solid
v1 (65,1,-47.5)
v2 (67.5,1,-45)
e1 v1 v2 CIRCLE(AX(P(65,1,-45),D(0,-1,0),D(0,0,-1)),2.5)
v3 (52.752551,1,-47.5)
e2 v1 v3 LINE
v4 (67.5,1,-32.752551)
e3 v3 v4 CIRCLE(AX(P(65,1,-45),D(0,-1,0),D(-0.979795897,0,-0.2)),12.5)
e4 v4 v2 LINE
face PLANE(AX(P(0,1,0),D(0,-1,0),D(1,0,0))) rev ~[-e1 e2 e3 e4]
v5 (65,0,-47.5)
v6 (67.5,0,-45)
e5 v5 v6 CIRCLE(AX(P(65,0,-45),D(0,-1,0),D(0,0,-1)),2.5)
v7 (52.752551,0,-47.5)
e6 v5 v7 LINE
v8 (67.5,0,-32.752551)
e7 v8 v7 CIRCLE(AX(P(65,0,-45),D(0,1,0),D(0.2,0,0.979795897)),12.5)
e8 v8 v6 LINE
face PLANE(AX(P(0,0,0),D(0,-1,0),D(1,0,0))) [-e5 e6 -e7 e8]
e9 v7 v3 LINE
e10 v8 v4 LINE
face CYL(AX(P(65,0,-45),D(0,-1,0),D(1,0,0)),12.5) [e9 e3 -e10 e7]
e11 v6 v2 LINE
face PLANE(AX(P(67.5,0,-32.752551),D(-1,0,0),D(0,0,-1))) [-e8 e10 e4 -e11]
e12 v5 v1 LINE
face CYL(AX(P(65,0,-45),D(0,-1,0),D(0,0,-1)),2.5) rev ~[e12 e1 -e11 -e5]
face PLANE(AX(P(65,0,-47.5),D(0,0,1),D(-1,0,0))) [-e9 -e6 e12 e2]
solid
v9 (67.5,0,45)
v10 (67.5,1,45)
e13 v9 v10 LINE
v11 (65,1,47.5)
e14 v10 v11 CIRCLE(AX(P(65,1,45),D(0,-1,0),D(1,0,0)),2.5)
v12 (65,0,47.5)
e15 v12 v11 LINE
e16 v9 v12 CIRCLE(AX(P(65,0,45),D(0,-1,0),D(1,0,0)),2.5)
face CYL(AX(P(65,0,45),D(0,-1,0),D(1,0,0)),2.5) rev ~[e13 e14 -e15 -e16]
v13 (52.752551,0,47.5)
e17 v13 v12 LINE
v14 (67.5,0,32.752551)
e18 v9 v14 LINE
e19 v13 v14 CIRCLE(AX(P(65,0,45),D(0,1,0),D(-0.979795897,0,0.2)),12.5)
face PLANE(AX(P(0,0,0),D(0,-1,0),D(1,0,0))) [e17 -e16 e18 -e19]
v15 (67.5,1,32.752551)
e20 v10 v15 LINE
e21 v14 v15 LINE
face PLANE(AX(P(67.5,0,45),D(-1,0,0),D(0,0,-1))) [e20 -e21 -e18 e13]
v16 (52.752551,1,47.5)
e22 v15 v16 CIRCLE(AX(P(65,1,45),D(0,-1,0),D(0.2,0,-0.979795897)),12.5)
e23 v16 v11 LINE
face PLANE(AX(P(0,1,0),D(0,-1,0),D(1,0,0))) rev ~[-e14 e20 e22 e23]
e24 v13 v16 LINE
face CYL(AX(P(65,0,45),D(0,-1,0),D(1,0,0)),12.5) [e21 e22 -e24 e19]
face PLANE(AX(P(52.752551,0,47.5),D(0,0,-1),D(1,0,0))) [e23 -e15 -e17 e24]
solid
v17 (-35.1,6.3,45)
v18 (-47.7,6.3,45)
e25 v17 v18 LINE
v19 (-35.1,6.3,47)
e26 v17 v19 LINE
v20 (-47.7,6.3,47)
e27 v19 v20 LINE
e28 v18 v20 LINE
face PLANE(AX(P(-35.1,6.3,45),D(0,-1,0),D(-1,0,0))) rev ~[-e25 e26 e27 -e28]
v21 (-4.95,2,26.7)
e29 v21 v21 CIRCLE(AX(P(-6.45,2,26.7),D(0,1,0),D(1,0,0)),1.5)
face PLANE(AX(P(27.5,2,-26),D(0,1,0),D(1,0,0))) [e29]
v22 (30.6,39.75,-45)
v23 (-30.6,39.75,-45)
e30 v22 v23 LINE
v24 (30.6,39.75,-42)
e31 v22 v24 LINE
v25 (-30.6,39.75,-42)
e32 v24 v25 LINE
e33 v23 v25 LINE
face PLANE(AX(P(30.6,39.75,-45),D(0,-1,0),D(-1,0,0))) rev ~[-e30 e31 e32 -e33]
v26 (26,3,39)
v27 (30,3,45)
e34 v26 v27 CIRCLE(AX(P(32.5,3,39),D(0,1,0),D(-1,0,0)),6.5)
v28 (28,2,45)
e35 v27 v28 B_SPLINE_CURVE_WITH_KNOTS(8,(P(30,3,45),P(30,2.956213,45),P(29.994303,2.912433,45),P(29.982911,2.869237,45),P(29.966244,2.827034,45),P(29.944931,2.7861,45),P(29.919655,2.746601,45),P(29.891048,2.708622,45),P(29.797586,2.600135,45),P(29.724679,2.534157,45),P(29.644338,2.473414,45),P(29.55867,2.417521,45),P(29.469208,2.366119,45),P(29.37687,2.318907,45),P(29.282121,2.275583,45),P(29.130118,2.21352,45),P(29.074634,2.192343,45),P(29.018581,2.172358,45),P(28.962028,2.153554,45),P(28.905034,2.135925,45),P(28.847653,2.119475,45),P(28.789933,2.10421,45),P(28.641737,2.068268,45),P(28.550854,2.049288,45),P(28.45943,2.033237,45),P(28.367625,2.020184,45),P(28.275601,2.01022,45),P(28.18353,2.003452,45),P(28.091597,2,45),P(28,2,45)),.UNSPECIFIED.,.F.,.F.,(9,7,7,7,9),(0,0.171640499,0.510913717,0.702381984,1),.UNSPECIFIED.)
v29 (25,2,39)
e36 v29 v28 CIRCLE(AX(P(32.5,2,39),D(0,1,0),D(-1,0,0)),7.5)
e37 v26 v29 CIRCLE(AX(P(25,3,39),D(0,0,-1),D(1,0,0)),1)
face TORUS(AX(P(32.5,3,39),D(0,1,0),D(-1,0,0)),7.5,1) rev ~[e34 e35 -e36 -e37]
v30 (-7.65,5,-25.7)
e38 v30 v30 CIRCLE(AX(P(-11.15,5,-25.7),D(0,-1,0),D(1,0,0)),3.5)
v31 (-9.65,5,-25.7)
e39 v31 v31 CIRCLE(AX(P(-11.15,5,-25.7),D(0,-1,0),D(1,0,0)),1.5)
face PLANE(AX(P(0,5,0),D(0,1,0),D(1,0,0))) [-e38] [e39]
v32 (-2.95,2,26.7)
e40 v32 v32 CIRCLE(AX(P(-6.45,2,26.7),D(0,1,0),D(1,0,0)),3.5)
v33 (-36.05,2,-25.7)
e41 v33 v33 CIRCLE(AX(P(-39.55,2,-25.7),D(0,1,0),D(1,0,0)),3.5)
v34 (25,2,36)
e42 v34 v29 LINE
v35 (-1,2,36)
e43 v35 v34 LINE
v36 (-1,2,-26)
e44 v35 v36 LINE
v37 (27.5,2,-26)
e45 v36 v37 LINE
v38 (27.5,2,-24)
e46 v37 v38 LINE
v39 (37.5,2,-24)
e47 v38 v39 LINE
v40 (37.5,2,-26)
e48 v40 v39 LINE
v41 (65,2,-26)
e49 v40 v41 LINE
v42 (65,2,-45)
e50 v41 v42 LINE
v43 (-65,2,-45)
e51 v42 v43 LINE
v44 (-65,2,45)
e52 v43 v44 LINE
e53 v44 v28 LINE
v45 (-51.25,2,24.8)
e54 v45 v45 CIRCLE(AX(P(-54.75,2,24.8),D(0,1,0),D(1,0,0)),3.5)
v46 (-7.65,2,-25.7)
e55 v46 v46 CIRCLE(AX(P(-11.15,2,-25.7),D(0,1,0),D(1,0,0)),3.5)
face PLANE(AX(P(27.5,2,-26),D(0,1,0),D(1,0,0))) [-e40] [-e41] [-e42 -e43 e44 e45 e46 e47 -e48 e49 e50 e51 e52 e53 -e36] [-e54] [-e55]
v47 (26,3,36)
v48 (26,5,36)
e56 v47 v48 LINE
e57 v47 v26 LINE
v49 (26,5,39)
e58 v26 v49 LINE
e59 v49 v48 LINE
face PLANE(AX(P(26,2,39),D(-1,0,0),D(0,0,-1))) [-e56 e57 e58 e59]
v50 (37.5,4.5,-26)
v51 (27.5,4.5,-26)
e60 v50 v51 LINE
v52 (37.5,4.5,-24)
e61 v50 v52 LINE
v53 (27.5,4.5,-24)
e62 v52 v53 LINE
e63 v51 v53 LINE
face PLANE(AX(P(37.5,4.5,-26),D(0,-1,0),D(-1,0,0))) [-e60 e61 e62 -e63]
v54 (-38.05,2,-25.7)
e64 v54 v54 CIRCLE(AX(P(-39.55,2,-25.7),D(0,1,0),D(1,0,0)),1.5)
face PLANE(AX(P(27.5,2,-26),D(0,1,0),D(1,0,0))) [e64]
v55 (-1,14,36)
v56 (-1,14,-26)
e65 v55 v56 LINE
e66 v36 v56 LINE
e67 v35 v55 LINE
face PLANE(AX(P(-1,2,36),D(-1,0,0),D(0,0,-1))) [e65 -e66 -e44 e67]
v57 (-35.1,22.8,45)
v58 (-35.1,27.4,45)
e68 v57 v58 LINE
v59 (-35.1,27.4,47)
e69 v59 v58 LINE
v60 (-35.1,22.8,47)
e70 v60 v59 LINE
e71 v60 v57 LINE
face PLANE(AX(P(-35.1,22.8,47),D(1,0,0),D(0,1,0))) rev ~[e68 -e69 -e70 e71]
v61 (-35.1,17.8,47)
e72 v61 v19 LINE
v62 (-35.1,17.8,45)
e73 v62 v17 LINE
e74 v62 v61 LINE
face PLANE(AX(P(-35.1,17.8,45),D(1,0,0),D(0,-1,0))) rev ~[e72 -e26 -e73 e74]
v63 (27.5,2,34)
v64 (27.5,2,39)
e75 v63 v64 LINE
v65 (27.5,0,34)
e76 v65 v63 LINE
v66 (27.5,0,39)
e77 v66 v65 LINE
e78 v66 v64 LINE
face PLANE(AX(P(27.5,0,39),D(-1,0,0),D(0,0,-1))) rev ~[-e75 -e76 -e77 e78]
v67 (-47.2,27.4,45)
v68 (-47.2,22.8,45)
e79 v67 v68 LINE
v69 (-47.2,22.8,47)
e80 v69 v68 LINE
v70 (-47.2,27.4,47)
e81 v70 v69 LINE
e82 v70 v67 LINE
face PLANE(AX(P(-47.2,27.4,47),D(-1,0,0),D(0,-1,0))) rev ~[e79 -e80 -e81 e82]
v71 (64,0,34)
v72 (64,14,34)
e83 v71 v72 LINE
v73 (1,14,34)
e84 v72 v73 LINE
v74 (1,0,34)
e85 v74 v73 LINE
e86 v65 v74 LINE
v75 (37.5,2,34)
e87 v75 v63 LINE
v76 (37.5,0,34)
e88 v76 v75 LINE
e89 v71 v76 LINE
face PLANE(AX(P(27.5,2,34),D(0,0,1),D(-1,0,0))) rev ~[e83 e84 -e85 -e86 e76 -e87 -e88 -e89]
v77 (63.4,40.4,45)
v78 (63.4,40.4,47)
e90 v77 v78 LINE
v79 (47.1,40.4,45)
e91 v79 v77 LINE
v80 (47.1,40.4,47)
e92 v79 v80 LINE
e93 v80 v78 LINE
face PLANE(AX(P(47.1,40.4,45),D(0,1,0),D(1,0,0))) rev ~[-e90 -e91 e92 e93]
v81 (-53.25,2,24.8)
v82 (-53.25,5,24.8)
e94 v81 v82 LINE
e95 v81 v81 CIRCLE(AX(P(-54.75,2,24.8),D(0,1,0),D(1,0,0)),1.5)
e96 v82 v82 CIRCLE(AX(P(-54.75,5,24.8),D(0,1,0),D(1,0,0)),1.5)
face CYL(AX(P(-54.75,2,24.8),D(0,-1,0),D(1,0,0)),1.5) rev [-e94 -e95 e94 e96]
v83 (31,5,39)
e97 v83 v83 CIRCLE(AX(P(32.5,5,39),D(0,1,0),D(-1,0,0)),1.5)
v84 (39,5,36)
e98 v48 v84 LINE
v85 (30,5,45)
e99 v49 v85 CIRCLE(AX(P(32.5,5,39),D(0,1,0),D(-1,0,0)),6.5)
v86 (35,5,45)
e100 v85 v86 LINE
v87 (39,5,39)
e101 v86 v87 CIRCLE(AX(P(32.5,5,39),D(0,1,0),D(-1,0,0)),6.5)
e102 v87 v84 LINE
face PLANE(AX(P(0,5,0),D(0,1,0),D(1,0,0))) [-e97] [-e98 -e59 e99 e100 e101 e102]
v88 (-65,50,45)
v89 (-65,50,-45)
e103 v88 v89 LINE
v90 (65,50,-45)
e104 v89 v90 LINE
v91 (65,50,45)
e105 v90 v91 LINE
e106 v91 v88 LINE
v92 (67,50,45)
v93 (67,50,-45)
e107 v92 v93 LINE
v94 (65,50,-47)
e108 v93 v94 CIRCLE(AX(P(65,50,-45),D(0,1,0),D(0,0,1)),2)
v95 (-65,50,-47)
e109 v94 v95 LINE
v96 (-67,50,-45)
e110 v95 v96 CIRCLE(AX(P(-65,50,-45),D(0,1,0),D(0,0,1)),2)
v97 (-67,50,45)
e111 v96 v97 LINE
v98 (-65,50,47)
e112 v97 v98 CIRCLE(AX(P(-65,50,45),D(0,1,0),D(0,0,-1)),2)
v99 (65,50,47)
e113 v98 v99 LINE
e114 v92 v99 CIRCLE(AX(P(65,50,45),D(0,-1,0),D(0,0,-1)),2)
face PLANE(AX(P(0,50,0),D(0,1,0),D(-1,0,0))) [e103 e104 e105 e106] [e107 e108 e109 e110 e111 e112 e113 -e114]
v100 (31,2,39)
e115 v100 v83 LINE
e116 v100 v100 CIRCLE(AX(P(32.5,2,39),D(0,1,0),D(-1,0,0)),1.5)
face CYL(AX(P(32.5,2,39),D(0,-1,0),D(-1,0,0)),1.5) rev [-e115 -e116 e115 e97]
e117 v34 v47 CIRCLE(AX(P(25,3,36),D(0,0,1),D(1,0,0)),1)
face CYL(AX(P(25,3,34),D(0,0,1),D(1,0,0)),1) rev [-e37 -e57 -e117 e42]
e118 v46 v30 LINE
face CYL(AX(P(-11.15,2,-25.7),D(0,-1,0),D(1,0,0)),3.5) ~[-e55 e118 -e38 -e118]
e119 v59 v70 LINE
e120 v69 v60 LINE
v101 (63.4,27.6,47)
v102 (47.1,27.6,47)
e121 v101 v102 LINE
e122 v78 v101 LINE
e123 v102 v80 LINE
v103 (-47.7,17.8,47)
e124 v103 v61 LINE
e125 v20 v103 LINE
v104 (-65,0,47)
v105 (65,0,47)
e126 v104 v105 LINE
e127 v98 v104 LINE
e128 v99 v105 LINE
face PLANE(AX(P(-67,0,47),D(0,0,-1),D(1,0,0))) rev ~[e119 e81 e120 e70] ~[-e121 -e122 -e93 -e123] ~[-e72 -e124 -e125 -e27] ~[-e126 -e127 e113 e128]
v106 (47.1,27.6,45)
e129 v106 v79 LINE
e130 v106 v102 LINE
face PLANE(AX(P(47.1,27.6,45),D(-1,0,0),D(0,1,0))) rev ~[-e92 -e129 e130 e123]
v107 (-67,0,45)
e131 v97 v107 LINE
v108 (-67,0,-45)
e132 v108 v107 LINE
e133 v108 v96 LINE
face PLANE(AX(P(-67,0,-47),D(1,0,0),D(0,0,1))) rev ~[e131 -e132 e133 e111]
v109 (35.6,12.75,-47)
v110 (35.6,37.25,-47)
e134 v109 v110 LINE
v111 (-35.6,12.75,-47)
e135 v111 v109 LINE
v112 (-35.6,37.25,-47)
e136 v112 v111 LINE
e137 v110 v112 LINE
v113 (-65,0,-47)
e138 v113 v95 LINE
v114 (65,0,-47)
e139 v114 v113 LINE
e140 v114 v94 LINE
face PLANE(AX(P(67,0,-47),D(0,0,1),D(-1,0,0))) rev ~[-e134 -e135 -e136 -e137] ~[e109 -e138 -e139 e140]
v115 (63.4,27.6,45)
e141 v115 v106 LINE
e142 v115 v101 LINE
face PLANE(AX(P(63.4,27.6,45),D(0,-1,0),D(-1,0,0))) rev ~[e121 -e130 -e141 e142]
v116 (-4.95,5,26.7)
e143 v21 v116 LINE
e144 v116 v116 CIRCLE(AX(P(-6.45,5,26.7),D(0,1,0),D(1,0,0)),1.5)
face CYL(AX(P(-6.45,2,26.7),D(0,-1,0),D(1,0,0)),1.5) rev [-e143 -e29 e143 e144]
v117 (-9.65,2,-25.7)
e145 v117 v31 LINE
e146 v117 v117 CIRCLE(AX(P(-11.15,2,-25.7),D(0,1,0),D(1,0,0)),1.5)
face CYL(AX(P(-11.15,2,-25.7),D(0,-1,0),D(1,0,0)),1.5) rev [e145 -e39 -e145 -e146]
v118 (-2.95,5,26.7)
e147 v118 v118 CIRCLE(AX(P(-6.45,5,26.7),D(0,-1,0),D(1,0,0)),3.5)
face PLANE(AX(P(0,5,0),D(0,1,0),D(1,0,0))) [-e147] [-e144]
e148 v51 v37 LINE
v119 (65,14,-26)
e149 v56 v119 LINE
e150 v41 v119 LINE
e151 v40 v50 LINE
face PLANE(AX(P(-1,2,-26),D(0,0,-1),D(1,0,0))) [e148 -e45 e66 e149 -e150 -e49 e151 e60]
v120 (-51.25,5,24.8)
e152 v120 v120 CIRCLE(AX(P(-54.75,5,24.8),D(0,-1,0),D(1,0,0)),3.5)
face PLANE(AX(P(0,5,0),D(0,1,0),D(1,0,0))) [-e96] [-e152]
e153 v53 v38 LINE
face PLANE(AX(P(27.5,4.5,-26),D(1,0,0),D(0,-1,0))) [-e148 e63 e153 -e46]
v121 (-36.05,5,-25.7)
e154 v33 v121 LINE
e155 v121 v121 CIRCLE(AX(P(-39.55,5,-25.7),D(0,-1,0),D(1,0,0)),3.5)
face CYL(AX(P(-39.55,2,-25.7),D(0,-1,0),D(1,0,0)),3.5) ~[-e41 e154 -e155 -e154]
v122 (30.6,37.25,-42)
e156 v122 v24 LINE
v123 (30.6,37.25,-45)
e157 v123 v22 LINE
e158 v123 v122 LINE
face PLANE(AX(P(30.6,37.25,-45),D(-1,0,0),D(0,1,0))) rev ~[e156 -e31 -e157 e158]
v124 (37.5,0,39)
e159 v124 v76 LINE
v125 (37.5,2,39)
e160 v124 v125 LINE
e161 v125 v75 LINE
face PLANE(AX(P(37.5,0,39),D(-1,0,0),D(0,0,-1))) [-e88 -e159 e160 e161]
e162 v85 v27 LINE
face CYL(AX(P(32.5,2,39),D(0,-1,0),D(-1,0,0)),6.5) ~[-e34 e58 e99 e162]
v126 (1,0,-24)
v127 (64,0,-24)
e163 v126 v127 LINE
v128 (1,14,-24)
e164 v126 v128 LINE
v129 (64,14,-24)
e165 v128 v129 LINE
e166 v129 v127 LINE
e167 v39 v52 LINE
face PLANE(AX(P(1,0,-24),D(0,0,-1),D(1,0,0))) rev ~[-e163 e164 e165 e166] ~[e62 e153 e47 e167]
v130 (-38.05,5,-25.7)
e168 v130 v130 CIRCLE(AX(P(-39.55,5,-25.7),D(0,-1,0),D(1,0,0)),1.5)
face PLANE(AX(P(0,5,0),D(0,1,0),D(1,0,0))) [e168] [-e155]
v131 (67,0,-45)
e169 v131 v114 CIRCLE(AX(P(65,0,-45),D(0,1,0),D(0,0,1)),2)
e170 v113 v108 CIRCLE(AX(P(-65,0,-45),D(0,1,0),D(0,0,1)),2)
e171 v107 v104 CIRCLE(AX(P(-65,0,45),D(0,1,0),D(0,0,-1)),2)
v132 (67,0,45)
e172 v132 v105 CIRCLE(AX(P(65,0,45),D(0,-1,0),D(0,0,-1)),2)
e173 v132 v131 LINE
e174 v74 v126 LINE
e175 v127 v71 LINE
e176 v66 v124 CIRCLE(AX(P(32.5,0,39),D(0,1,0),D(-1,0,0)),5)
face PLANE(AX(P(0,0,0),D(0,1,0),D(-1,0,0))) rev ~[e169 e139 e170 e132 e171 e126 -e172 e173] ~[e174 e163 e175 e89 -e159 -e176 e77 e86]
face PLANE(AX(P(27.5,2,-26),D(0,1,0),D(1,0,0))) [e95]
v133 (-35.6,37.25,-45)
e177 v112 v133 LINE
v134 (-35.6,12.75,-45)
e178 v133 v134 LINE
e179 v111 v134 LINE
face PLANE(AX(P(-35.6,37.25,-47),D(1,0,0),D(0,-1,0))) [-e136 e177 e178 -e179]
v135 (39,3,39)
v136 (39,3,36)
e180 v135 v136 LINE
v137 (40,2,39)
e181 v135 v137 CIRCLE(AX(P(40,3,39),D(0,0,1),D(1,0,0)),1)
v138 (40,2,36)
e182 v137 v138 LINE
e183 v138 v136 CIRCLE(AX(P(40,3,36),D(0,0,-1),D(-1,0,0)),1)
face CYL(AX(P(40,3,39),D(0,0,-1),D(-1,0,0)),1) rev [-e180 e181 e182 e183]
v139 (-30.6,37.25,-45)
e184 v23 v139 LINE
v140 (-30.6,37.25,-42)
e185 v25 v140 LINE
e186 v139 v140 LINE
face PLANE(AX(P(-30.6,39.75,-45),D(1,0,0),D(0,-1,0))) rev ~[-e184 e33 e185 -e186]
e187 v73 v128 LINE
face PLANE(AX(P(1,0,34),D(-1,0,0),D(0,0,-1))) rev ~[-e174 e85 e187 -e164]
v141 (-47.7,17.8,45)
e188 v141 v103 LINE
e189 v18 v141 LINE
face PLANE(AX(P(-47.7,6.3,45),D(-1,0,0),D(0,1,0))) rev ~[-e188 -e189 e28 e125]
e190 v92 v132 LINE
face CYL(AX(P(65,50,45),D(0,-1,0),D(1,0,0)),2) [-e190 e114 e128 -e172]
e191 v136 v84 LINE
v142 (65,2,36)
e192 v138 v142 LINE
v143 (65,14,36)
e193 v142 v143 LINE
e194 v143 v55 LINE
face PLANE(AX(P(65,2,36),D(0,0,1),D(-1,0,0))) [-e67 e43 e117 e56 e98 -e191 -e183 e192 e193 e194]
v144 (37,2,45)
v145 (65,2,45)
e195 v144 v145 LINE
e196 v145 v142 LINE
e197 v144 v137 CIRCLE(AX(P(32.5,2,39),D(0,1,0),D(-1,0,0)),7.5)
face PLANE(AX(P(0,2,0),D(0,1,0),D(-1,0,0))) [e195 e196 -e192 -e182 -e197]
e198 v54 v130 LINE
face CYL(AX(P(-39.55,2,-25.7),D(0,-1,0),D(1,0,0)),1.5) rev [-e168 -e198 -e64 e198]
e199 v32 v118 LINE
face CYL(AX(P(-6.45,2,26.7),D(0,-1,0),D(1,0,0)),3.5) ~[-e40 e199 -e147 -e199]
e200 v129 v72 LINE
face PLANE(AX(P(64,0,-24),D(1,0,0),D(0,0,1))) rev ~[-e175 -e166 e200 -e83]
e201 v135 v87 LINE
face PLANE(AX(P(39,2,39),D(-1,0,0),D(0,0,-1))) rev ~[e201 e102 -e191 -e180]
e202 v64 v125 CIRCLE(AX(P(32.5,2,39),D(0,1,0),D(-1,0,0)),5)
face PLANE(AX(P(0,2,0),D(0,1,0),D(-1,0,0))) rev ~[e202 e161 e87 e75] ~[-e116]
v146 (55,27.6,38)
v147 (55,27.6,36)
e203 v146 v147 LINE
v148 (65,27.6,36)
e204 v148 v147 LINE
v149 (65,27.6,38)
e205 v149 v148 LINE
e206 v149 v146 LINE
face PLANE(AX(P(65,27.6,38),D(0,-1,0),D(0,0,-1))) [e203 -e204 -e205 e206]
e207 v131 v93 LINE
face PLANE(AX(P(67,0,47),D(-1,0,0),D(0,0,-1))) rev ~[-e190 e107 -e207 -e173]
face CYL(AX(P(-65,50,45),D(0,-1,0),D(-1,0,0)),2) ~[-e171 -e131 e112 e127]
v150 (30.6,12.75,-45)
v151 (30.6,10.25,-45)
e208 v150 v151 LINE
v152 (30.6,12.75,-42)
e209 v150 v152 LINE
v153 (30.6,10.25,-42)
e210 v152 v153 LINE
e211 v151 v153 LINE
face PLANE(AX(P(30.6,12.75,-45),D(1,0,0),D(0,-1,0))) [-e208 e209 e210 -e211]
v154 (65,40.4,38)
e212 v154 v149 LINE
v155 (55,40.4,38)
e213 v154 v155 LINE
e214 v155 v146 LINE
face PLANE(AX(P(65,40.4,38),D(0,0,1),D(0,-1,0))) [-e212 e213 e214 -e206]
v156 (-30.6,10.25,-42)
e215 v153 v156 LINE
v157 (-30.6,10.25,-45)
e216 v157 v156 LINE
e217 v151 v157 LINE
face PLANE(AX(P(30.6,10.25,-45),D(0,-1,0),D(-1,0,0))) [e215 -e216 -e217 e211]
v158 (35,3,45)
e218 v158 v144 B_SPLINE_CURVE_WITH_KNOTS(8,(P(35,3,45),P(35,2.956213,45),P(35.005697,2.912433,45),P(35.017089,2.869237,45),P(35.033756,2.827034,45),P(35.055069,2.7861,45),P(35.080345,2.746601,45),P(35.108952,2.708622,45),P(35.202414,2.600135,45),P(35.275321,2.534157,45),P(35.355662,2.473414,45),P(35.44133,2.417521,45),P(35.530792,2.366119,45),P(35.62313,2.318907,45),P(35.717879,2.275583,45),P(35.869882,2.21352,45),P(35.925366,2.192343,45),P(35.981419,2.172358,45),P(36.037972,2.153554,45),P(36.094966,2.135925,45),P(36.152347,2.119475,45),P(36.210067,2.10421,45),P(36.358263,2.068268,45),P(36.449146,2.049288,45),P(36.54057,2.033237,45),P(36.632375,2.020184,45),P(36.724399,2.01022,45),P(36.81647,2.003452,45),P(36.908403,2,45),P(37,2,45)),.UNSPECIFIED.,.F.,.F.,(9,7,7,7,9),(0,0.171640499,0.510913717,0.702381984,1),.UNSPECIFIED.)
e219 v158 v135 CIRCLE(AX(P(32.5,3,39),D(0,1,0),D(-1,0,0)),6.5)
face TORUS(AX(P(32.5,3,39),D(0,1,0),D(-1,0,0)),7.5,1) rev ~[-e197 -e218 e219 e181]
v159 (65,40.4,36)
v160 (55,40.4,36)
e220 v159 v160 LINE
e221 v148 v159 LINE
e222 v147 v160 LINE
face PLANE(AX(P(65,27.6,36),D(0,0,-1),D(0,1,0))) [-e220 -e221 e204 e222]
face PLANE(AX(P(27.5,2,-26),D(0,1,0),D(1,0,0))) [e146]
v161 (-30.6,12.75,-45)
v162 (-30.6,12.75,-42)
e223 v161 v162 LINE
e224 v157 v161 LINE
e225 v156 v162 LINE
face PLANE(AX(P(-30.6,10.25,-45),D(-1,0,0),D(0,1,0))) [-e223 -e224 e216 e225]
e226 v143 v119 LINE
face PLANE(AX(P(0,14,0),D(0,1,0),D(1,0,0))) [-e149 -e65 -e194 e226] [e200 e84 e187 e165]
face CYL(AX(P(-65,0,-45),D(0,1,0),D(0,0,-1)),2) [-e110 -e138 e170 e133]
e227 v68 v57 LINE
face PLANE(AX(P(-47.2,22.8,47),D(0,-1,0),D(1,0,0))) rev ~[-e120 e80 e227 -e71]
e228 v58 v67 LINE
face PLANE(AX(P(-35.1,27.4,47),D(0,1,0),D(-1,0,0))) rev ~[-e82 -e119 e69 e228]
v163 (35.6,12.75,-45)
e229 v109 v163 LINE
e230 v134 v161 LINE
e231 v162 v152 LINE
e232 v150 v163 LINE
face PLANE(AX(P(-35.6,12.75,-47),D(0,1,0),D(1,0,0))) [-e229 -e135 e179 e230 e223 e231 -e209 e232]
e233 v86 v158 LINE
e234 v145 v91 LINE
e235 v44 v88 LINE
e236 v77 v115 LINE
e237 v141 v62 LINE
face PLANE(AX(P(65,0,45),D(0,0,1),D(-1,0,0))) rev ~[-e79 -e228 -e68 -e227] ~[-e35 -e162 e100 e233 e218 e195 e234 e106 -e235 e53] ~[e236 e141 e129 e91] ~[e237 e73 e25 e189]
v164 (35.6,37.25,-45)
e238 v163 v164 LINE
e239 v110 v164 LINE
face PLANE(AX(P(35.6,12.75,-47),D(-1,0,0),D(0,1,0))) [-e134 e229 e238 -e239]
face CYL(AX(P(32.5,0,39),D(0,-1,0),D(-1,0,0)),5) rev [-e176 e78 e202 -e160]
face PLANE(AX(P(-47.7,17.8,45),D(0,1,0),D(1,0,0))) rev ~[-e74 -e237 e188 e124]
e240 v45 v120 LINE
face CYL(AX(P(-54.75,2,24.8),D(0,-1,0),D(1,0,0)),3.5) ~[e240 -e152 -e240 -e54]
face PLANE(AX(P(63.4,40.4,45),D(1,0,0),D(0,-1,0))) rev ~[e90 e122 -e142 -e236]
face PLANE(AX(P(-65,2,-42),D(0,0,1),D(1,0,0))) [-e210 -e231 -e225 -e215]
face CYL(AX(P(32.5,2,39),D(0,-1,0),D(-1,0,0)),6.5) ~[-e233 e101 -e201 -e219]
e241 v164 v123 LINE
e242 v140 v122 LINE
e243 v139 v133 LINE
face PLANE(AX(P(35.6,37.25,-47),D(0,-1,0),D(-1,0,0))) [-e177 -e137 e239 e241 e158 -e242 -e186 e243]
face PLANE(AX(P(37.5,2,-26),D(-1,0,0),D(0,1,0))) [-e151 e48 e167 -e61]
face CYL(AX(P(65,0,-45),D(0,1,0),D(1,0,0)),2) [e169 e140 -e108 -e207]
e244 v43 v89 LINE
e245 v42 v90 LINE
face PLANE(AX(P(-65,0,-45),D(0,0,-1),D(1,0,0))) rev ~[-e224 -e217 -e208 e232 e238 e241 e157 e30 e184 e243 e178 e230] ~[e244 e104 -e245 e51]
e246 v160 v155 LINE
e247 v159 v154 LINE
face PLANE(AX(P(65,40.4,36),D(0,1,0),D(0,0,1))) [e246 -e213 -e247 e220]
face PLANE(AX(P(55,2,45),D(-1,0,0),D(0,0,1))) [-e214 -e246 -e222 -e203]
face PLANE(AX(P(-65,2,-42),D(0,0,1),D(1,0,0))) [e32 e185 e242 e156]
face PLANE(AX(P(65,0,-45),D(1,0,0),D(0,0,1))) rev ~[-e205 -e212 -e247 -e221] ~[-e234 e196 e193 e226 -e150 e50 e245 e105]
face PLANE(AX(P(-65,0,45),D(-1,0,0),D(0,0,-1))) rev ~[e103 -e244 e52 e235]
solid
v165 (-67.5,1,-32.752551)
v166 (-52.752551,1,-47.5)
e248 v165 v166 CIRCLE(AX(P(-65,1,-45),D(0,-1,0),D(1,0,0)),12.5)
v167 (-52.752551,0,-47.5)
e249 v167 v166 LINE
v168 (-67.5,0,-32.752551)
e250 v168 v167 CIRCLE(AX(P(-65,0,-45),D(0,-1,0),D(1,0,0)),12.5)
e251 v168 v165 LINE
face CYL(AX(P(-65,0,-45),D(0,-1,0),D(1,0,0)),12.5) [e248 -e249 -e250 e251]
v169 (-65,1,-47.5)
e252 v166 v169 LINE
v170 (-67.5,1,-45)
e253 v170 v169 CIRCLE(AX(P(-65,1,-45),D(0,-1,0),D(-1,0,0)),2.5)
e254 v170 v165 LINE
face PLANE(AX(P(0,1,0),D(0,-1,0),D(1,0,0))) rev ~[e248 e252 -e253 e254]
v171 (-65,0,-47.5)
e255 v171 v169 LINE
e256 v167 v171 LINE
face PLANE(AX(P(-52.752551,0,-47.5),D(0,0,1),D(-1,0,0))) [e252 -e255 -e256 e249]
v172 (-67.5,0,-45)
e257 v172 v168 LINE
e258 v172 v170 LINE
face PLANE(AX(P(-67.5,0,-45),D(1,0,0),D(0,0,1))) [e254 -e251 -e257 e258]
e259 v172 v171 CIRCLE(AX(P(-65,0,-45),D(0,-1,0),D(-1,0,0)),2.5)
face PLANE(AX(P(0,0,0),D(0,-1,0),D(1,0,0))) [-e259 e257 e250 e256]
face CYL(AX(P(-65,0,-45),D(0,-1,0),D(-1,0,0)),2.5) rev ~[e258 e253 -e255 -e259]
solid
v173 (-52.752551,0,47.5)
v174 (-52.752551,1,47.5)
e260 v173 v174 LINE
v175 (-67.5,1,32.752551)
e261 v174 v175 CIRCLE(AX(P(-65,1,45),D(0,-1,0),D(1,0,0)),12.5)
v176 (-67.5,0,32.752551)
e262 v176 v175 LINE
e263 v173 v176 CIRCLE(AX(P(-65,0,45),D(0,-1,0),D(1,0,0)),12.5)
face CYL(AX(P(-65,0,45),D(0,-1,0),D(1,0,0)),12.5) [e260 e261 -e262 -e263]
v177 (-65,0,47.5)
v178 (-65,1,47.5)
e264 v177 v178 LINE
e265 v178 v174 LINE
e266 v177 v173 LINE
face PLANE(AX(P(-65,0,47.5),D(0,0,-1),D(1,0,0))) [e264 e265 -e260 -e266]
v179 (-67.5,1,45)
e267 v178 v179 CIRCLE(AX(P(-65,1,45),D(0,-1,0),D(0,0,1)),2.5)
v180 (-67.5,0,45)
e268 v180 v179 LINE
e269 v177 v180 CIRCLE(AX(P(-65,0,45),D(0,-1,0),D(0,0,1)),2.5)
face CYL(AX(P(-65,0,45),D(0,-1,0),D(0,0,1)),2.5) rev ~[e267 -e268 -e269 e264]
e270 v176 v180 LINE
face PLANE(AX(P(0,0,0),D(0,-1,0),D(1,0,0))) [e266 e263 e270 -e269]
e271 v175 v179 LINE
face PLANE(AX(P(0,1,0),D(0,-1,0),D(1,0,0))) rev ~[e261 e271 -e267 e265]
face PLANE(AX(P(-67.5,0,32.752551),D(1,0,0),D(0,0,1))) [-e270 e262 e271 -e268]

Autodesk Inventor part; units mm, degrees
ref_plane "YZ Plane" through (0, 0, 0) normal (1, 0, 0) x (0, 1, 0)
ref_plane "XZ Plane" through (0, 0, 0) normal (0, 1, 0) x (-1, 0, 0)
ref_plane "XY Plane" through (0, 0, 0) normal (0, 0, 1) x (1, 0, 0)
sketch "스케치1" plane through (0, 0, 0) normal (0, 1, 0) x (-1, 0, 0)
  line L0 (65, -45) -> (-65, -45)
  line L1 (-65, -45) -> (-65, 45)
  line L2 (-65, 45) -> (65, 45)
  line L3 (65, 45) -> (65, -45)
  line L4 (65, -45) -> (-65, 45) construction
  line L5 (-65, -45) -> (65, 45) construction
  line L6 (-67, -47) -> (67, -47)
  line L7 (67, -47) -> (67, 47)
  line L8 (67, 47) -> (-67, 47)
  line L9 (-67, 47) -> (-67, -47)
  line L10 (-1, -24) -> (-64, -24)
  line L11 (-64, -24) -> (-64, 34)
  line L12 (-64, 34) -> (-1, 34)
  line L13 (-1, 34) -> (-1, -24)
  circle A0 centre (-32.5, 39) radius 1.5
  circle A1 centre (-32.5, 39) radius 3.5
  arc A2 (-27.5, 39) -> (-37.5, 39) centre (-32.5, 39) ccw
  line L14 (-27.5, 39) -> (-27.5, 34)
  line L15 (-37.5, 39) -> (-37.5, 34)
  point P0 (0, 0)
  point P1 (-32.5, 34)
  point P2 (-32.5, 44)
  dimension "d0" = 130
  dimension "d1" = 90
  dimension "d2" = 2
  dimension "d3" = 58
  dimension "d4" = 63
  dimension "d5" = 3
  dimension "d6" = 7
  dimension "d7" = 10
  dimension "d8" = 1
  dimension "d9" = 1
extrude "돌출1" add sketch "스케치1" along normal blind 2 contours L0 L1 L2 L3 | L9 L8 L7 L6
extrude "돌출2" add sketch "스케치1" along normal blind 3 from surface at 2 contours L12 L15 A2 L14 | A1
sketch "스케치2" plane through (0, 2, 0) normal (0, 1, 0) x (1, 0, 0)
  line L0 (-67, -47) -> (67, -47) projected
  line L1 (67, -47) -> (67, 47) projected
  line L2 (67, 47) -> (-67, 47) projected
  line L3 (-67, 47) -> (-67, -47) projected
  line L4 (64, -34) -> (37.5, -34) projected
  line L5 (37.5, -34) -> (37.5, -39) projected
  arc A0 (27.5, -39) -> (37.5, -39) centre (32.5, -39) ccw projected
  line L6 (27.5, -39) -> (27.5, -34) projected
  line L7 (27.5, -34) -> (1, -34) projected
  line L8 (1, -34) -> (1, 24) projected
  line L9 (1, 24) -> (64, 24) projected
  line L10 (64, 24) -> (64, -34) projected
  line L11 (39, -39) -> (39, -35.5)
  line L12 (64, -55.5) -> (65.5, -55.5)
  line L13 (65.5, -55.5) -> (65.5, 25.5)
  line L14 (65.5, 25.5) -> (-0.5, 25.5)
  line L15 (-0.5, 25.5) -> (-0.5, -55.5)
  line L16 (-0.5, -55.5) -> (1, -55.5)
  line L17 (26, -55.5) -> (26, -39)
  arc A1 (26, -39) -> (39, -39) centre (32.5, -39) ccw
  line L18 (39, -35.5) -> (39, -34)
  line L19 (26, -55.5) -> (26, -34)
  point P0 (0, 0)
  dimension "d14" = 1.5
extrude "돌출3" add sketch "스케치2" along normal blind 3 contours L19 L7 L6 A0 L5 L4 L18 L11 A1
fillet "모깎기1" radius 1 2 edges at (32.5, 2, 45.5) (39, 2, 36.5)
extrude "돌출4" add sketch "스케치1" along normal blind 50 contours L9 L8 L7 L6
sketch "스케치3" plane through (0, 2, 0) normal (0, 1, 0) x (1, 0, 0)
  point P0 (0, 0)
sketch "스케치4" plane through (0, 2, 0) normal (0, 1, 0) x (1, 0, 0)
  line L0 (37, -45) -> (65, -45) projected
  line L1 (65, -45) -> (65, 45) projected
  line L2 (65, 45) -> (-65, 45) projected
  line L3 (-65, 45) -> (-65, -45) projected
  line L4 (-65, -45) -> (28, -45) projected
  arc A0 (25, -39) -> (28, -45) centre (32.5, -39) ccw projected
  line L5 (25, -34) -> (1, -34) projected
  line L6 (1, -34) -> (1, 24) projected
  line L7 (1, 24) -> (64, 24) projected
  line L8 (64, 24) -> (64, -34) projected
  line L9 (64, -34) -> (40, -34) projected
  line L10 (40, -39) -> (40, -34) projected
  arc A1 (37, -45) -> (40, -39) centre (32.5, -39) ccw projected
  line L11 (73.9957, 33.9957) -> (-8.9957, 33.9957)
  line L12 (-8.9957, 33.9957) -> (-8.9957, -43.9957)
  line L13 (-8.9957, -43.9957) -> (25.1098, -43.9957)
  line L14 (49.9957, -39) -> (49.9957, -43.9957)
  line L15 (49.9957, -43.9957) -> (73.9957, -43.9957)
  line L16 (73.9957, -43.9957) -> (73.9957, 33.9957)
  line L17 (-1, 26) -> (74.9957, 26)
  line L18 (74.9957, 26) -> (74.9957, -36)
  line L19 (74.9957, -36) -> (-1, -36)
  line L20 (-1, -36) -> (-1, 26)
  line L21 (25.1098, -36) -> (49.9957, -36)
  line L22 (49.9957, -43.9957) -> (25.1098, -43.9957)
  line L23 (25, -34) -> (25, -39) projected
  line L24 (25, -34) -> (40, -34)
  line L25 (64, -34) -> (37.5, -34) projected
  line L26 (25.1098, -36) -> (40, -36)
  point P0 (0, 0)
  point P1 (40, -36)
  point P2 (25, -36)
  point P3 (73.9957, -36)
  point P4 (73.9957, 26)
  point P5 (65, -36)
  point P6 (65, 26)
  dimension "d20" = 2
  dimension "d21" = 2
  dimension "d22" = 2
  dimension "d23" = 1
extrude "돌출5" add sketch "스케치4" along normal blind 12 contours L19 L10 L9 L8 L7 L6 L5 L23 L20 L17 L1 | L19 L23 L24 L10
sketch "스케치5" plane through (74.9957, 2, -26) normal (0, 0, -1) x (-1, 0, 0)
  line L0 (37.4957, 2.5) -> (47.4957, 2.5)
  line L1 (47.4957, 2.5) -> (47.4957, 0)
  line L2 (47.4957, 0) -> (37.4957, 0)
  line L3 (37.4957, 0) -> (37.4957, 2.5)
  line L4 (9.9957, 0) -> (75.9957, 0) projected
  line L5 (0, 0) -> (0, 12) projected
  point P0 (74.9957, -2)
  point P1 (39.9957, 0)
  point P2 (42.4957, 2.5)
  point P3 (10.9957, 12)
  point P4 (7.9957, 0)
  dimension "d28" = 2.5
  dimension "d29" = 10
  dimension "d93" = 31.5
extrude "돌출6" cut sketch "스케치5" against normal up to surface (2 mm away)
sketch "스케치6" plane through (0, 2, 0) normal (0, 1, 0) x (1, 0, 0)
  line L0 (-3.7, -40.4) -> (-57, -40.4)
  line L1 (-57, -40.4) -> (-57, 28.2)
  line L2 (-57, 28.2) -> (-3.7, 28.2)
  line L3 (-3.7, 28.2) -> (-3.7, -40.4)
  line L4 (-3.7, 25.7) -> (-51.0807, 25.7)
  line L5 (-51.0807, 25.7) -> (-51.0807, 28.2)
  line L6 (-51.0807, 28.2) -> (-3.7, 28.2)
  line L7 (-3.7, 28.2) -> (-3.7, 25.7)
  line L8 (-51.0807, 25.7) -> (-57, 25.7)
  circle A0 centre (-11.15, 25.7) radius 1.5
  circle A1 centre (-39.55, 25.7) radius 1.5
  circle A2 centre (-54.75, -24.8) radius 1.5
  circle A3 centre (-6.45, -26.7) radius 1.5
  line L9 (-35.4, -40.4) -> (-47.4, -40.4)
  line L10 (-47.4, -40.4) -> (-47.4, -47)
  line L11 (-47.4, -47) -> (-35.4, -47)
  line L12 (-35.4, -47) -> (-35.4, -40.4)
  line L13 (-67, -47) -> (67, -47) projected
  line L14 (-65, -45) -> (-65, 45) projected
  circle A4 centre (-54.75, -24.8) radius 3.5
  circle A5 centre (-6.45, -26.7) radius 3.5
  circle A6 centre (-11.15, 25.7) radius 3.5
  circle A7 centre (-39.55, 25.7) radius 3.5
  point P0 (0, 0)
  point P1 (-41.4, -47)
  point P2 (-54.0404, 25.7)
  dimension "d33" = 53.3
  dimension "d34" = 68.6
  dimension "d36" = 3
  dimension "d37" = 3
  dimension "d38" = 28.4
  dimension "d39" = 3
  dimension "d40" = 3
  dimension "d41" = 52.4
  dimension "d42" = 50.5
  dimension "d44" = 15.2
  dimension "d45" = 4.7
  dimension "d46" = 2.25
  dimension "d47" = 12
  dimension "d48" = 9.6
  dimension "d49" = 6.6
  dimension "d50" = 8
  dimension "d51" = 2.5
  dimension "d52" = 2
  dimension "d53" = 2
  dimension "d54" = 2
  dimension "d55" = 2
extrude "돌출7" add sketch "스케치6" along normal blind 3 contours A5 L3 | L3 A5 | A4 L1 | L1 A4 | A6 L4 A0 | L4 A0 A6 L2 | L2 A6 | A7 L4 A1 | L4 A1 A7 L2 | L2 A7
sketch "스케치7" plane through (65, 50, 45) normal (0, 0, -1) x (-1, 0, 0)
  line L0 (100.4, -32.5) -> (112.4, -32.5)
  line L1 (112.4, -32.5) -> (112.4, -43.4)
  line L2 (112.4, -43.4) -> (100.4, -43.4)
  line L3 (100.4, -43.4) -> (100.4, -32.5)
  line L4 (130, -48) -> (130, 0) projected
  line L5 (130, -48) -> (37, -48) projected
  line L6 (112.7, -32.2) -> (100.1, -32.2)
  line L7 (100.1, -32.2) -> (100.1, -43.7)
  line L8 (100.1, -43.7) -> (112.7, -43.7)
  line L9 (112.7, -43.7) -> (112.7, -32.2)
  point P0 (65, -50)
  dimension "d58" = 10.9
  dimension "d59" = 12
  dimension "d60" = 17.6
  dimension "d61" = 4.6
  dimension "d62" = 0.3
extrude "돌출8" cut sketch "스케치7" against normal through all contours L0 L1 L2 L3 | L9 L8 L7 L6
sketch "스케치8" plane through (67, 0, -47) normal (0, 0, -1) x (-1, 0, 0)
  line L0 (31.4, 37.25) -> (102.6, 37.25)
  line L1 (102.6, 37.25) -> (102.6, 12.75)
  line L2 (102.6, 12.75) -> (31.4, 12.75)
  line L3 (31.4, 12.75) -> (31.4, 37.25)
  line L4 (31.4, 37.25) -> (102.6, 12.75) construction
  line L5 (102.6, 37.25) -> (31.4, 12.75) construction
  line L6 (27, 43) -> (107, 43)
  line L7 (107, 43) -> (107, 7)
  line L8 (107, 7) -> (27, 7)
  line L9 (27, 7) -> (27, 43)
  line L10 (27, 43) -> (107, 7) construction
  line L11 (107, 43) -> (27, 7) construction
  circle A0 centre (104.5, 40.5) radius 1.6
  circle A1 centre (104.5, 9.5) radius 1.6
  circle A2 centre (29.5, 9.5) radius 1.6
  circle A3 centre (29.5, 40.5) radius 1.6
  line L12 (134, 0) -> (134, 50) projected
  point P0 (67, 0)
  point P1 (67, 25)
  point P2 (134, 25)
  dimension "d65" = 71.2
  dimension "d66" = 24.5
  dimension "d67" = 36
  dimension "d68" = 80
  dimension "d69" = 3.2
  dimension "d70" = 2.5
  dimension "d71" = 3.2
  dimension "d72" = 3.2
  dimension "d73" = 3.2
  dimension "d74" = 2.5
  dimension "d75" = 31
  dimension "d76" = 75
  dimension "d77" = 2.5
extrude "돌출9" cut sketch "스케치8" against normal up to surface (2 mm away) contours L0 L1 L2 L3
sketch "스케치9" plane through (65, 50, 45) normal (0, 0, -1) x (-1, 0, 0)
  line L0 (2, -10) -> (17.5, -10)
  line L1 (17.5, -10) -> (17.5, -22)
  line L2 (17.5, -22) -> (2, -22)
  line L3 (2, -22) -> (2, -10)
  line L4 (0, -48) -> (0, 0) projected
  line L5 (0, 0) -> (130, 0) projected
  line L6 (17.9, -9.6) -> (1.6, -9.6)
  line L7 (1.6, -9.6) -> (1.6, -22.4)
  line L8 (1.6, -22.4) -> (17.9, -22.4)
  line L9 (17.9, -22.4) -> (17.9, -9.6)
  point P0 (65, -50)
  point P1 (17.5, -16)
  dimension "d80" = 12
  dimension "d81" = 15.5
  dimension "d82" = 2
  dimension "d88" = 16
  dimension "d89" = 0.4
extrude "돌출10" cut sketch "스케치9" against normal through all contours L0 L1 L2 L3 | L9 L8 L7 L6
sketch "스케치10" plane through (65, 2, 45) normal (-1, 0, 0) x (0, 0, 1)
  line L0 (-9, 38.4) -> (-7, 38.4)
  line L1 (-7, 38.4) -> (-7, 25.6)
  line L2 (-7, 25.6) -> (-9, 25.6)
  line L3 (-9, 25.6) -> (-9, 38.4)
  line L4 (2, -2) -> (2, 48) projected
  line L5 (0, 25.6) -> (0, 38.4) projected
  point P0 (-45, -2)
  point P1 (-8, 38.4)
  point P2 (-8, 25.6)
  dimension "d86" = 2
  dimension "d87" = 9
extrude "돌출11" add sketch "스케치10" along normal blind 10
sketch "스케치11" plane through (-65, 2, -45) normal (0, 0, 1) x (1, 0, 0)
  line L0 (34.4, 35.25) -> (95.6, 35.25)
  line L1 (95.6, 35.25) -> (95.6, 37.75)
  line L2 (95.6, 37.75) -> (34.4, 37.75)
  line L3 (34.4, 37.75) -> (34.4, 35.25)
  line L4 (29.4, 35.25) -> (29.4, 10.75) projected
  line L5 (29.4, 10.75) -> (100.6, 10.75) projected
  line L6 (100.6, 10.75) -> (100.6, 35.25) projected
  line L7 (100.6, 35.25) -> (29.4, 35.25) projected
  line L8 (132, -2) -> (-2, -2) projected
  line L9 (-2, -2) -> (-2, 48) projected
  line L10 (132, 48) -> (-2, 48) projected
  line L11 (132, -2) -> (132, 48) projected
  line L12 (34.4, 10.75) -> (95.6, 10.75)
  line L13 (95.6, 10.75) -> (95.6, 8.25)
  line L14 (95.6, 8.25) -> (34.4, 8.25)
  line L15 (34.4, 8.25) -> (34.4, 10.75)
  point P0 (65, -2)
  dimension "d94" = 2.5
  dimension "d95" = 5
  dimension "d96" = 5
  dimension "d97" = 2.5
extrude "돌출12" add sketch "스케치11" along normal blind 3 contours L3 L2 L1 L0 | L5 L13 L14 L15
fillet "모깎기2" radius 2 4 edges at (67, 25, -47) (-67, 25, -47) (-67, 25, 47) (67, 25, 47)
sketch "스케치12" plane through (0, 0, 0) normal (0, -1, 0) x (1, 0, 0)
  arc A0 (67, 45) -> (65, 47) centre (65, 45) ccw projected
  circle A1 centre (65, 45) radius 12.5
  arc A2 (67, 45) -> (65, 47) centre (65, 45) ccw projected
  line L0 (-65, 47) -> (65, 47) projected
  arc A3 (-65, 47) -> (-67, 45) centre (-65, 45) ccw projected
  line L1 (-67, -45) -> (-67, 45) projected
  arc A4 (-67, -45) -> (-65, -47) centre (-65, -45) ccw projected
  line L2 (65, -47) -> (-65, -47) projected
  arc A5 (65, -47) -> (67, -45) centre (65, -45) ccw projected
  line L3 (67, 45) -> (67, -45) projected
  line L4 (64, -24) -> (64, 34) projected
  line L5 (1, -24) -> (64, -24) projected
  line L6 (1, 34) -> (1, -24) projected
  line L7 (27.5, 34) -> (1, 34) projected
  line L8 (27.5, 39) -> (27.5, 34) projected
  arc A6 (37.5, 39) -> (27.5, 39) centre (32.5, 39) ccw projected
  line L9 (37.5, 34) -> (37.5, 39) projected
  line L10 (64, 34) -> (37.5, 34) projected
  line L11 (-65, 45) -> (28, 45) projected
  circle A7 centre (-65, 45) radius 12.5
  line L12 (-65, -45) -> (-65, 45) projected
  circle A8 centre (-65, -45) radius 12.5
  line L13 (65, 45) -> (65, -45) projected
  circle A9 centre (65, -45) radius 12.5
  arc A10 (-67.5, -45) -> (-65, -47.5) centre (-65, -45) ccw
  line L14 (-67.5, -45) -> (-67.5, 45)
  arc A11 (-65, 47.5) -> (-67.5, 45) centre (-65, 45) ccw
  line L15 (-65, 47.5) -> (65, 47.5)
  arc A12 (67.5, 45) -> (65, 47.5) centre (65, 45) ccw
  line L16 (67.5, 45) -> (67.5, -45)
  arc A13 (65, -47.5) -> (67.5, -45) centre (65, -45) ccw
  line L17 (65, -47.5) -> (-65, -47.5)
  point P0 (0, 0)
  point P1 (52.661, -47)
  point P2 (67, -32.661)
  point P3 (-67, -32.661)
  point P4 (-52.661, -47)
  point P5 (-52.661, 47)
  point P6 (-67, 32.661)
  point P7 (67, 32.661)
  point P8 (52.661, 47)
  point P9 (65, 47)
  point P10 (67.5, 32.7526)
  point P11 (52.7526, 47.5)
  point P12 (-52.7526, 47.5)
  point P13 (-67.5, 32.7526)
  point P14 (52.7526, -47.5)
  point P15 (67.5, -32.7526)
  point P16 (-67.5, -32.7526)
  point P17 (-52.7526, -47.5)
  dimension "d101" = 25
  dimension "d102" = 25
  dimension "d103" = 25
  dimension "d104" = 25
  dimension "d122" = 0.5
extrude "돌출13" add sketch "스케치12" against normal blind 1 contours L16 A12 L15 A1 | A9 L17 A13 L16 | L15 A11 L14 A7 | L14 A10 L17 A8
sketch "스케치15" plane through (-65, 50, 47) normal (0, 0, 1) x (1, 0, 0)
  line L0 (18.1, -22.9) -> (29.6, -22.9)
  line L1 (29.6, -22.9) -> (29.6, -26.9)
  line L2 (29.6, -26.9) -> (18.1, -26.9)
  line L3 (18.1, -26.9) -> (18.1, -22.9)
  line L4 (29.9, -22.6) -> (17.8, -22.6)
  line L5 (17.8, -22.6) -> (17.8, -27.2)
  line L6 (17.8, -27.2) -> (29.9, -27.2)
  line L7 (29.9, -27.2) -> (29.9, -22.6)
  line L8 (17.3, -32.2) -> (29.9, -32.2) projected
  point P0 (65, -50)
  point P1 (23.6, -32.2)
  point P2 (23.85, -27.2)
  dimension "d116" = 11.5
  dimension "d117" = 4
  dimension "d118" = 0.3
  dimension "d119" = 5
extrude "돌출14" cut sketch "스케치15" against normal blind 40 contours L0 L1 L2 L3 | L7 L6 L5 L4
properties part number "case_under_v2"
